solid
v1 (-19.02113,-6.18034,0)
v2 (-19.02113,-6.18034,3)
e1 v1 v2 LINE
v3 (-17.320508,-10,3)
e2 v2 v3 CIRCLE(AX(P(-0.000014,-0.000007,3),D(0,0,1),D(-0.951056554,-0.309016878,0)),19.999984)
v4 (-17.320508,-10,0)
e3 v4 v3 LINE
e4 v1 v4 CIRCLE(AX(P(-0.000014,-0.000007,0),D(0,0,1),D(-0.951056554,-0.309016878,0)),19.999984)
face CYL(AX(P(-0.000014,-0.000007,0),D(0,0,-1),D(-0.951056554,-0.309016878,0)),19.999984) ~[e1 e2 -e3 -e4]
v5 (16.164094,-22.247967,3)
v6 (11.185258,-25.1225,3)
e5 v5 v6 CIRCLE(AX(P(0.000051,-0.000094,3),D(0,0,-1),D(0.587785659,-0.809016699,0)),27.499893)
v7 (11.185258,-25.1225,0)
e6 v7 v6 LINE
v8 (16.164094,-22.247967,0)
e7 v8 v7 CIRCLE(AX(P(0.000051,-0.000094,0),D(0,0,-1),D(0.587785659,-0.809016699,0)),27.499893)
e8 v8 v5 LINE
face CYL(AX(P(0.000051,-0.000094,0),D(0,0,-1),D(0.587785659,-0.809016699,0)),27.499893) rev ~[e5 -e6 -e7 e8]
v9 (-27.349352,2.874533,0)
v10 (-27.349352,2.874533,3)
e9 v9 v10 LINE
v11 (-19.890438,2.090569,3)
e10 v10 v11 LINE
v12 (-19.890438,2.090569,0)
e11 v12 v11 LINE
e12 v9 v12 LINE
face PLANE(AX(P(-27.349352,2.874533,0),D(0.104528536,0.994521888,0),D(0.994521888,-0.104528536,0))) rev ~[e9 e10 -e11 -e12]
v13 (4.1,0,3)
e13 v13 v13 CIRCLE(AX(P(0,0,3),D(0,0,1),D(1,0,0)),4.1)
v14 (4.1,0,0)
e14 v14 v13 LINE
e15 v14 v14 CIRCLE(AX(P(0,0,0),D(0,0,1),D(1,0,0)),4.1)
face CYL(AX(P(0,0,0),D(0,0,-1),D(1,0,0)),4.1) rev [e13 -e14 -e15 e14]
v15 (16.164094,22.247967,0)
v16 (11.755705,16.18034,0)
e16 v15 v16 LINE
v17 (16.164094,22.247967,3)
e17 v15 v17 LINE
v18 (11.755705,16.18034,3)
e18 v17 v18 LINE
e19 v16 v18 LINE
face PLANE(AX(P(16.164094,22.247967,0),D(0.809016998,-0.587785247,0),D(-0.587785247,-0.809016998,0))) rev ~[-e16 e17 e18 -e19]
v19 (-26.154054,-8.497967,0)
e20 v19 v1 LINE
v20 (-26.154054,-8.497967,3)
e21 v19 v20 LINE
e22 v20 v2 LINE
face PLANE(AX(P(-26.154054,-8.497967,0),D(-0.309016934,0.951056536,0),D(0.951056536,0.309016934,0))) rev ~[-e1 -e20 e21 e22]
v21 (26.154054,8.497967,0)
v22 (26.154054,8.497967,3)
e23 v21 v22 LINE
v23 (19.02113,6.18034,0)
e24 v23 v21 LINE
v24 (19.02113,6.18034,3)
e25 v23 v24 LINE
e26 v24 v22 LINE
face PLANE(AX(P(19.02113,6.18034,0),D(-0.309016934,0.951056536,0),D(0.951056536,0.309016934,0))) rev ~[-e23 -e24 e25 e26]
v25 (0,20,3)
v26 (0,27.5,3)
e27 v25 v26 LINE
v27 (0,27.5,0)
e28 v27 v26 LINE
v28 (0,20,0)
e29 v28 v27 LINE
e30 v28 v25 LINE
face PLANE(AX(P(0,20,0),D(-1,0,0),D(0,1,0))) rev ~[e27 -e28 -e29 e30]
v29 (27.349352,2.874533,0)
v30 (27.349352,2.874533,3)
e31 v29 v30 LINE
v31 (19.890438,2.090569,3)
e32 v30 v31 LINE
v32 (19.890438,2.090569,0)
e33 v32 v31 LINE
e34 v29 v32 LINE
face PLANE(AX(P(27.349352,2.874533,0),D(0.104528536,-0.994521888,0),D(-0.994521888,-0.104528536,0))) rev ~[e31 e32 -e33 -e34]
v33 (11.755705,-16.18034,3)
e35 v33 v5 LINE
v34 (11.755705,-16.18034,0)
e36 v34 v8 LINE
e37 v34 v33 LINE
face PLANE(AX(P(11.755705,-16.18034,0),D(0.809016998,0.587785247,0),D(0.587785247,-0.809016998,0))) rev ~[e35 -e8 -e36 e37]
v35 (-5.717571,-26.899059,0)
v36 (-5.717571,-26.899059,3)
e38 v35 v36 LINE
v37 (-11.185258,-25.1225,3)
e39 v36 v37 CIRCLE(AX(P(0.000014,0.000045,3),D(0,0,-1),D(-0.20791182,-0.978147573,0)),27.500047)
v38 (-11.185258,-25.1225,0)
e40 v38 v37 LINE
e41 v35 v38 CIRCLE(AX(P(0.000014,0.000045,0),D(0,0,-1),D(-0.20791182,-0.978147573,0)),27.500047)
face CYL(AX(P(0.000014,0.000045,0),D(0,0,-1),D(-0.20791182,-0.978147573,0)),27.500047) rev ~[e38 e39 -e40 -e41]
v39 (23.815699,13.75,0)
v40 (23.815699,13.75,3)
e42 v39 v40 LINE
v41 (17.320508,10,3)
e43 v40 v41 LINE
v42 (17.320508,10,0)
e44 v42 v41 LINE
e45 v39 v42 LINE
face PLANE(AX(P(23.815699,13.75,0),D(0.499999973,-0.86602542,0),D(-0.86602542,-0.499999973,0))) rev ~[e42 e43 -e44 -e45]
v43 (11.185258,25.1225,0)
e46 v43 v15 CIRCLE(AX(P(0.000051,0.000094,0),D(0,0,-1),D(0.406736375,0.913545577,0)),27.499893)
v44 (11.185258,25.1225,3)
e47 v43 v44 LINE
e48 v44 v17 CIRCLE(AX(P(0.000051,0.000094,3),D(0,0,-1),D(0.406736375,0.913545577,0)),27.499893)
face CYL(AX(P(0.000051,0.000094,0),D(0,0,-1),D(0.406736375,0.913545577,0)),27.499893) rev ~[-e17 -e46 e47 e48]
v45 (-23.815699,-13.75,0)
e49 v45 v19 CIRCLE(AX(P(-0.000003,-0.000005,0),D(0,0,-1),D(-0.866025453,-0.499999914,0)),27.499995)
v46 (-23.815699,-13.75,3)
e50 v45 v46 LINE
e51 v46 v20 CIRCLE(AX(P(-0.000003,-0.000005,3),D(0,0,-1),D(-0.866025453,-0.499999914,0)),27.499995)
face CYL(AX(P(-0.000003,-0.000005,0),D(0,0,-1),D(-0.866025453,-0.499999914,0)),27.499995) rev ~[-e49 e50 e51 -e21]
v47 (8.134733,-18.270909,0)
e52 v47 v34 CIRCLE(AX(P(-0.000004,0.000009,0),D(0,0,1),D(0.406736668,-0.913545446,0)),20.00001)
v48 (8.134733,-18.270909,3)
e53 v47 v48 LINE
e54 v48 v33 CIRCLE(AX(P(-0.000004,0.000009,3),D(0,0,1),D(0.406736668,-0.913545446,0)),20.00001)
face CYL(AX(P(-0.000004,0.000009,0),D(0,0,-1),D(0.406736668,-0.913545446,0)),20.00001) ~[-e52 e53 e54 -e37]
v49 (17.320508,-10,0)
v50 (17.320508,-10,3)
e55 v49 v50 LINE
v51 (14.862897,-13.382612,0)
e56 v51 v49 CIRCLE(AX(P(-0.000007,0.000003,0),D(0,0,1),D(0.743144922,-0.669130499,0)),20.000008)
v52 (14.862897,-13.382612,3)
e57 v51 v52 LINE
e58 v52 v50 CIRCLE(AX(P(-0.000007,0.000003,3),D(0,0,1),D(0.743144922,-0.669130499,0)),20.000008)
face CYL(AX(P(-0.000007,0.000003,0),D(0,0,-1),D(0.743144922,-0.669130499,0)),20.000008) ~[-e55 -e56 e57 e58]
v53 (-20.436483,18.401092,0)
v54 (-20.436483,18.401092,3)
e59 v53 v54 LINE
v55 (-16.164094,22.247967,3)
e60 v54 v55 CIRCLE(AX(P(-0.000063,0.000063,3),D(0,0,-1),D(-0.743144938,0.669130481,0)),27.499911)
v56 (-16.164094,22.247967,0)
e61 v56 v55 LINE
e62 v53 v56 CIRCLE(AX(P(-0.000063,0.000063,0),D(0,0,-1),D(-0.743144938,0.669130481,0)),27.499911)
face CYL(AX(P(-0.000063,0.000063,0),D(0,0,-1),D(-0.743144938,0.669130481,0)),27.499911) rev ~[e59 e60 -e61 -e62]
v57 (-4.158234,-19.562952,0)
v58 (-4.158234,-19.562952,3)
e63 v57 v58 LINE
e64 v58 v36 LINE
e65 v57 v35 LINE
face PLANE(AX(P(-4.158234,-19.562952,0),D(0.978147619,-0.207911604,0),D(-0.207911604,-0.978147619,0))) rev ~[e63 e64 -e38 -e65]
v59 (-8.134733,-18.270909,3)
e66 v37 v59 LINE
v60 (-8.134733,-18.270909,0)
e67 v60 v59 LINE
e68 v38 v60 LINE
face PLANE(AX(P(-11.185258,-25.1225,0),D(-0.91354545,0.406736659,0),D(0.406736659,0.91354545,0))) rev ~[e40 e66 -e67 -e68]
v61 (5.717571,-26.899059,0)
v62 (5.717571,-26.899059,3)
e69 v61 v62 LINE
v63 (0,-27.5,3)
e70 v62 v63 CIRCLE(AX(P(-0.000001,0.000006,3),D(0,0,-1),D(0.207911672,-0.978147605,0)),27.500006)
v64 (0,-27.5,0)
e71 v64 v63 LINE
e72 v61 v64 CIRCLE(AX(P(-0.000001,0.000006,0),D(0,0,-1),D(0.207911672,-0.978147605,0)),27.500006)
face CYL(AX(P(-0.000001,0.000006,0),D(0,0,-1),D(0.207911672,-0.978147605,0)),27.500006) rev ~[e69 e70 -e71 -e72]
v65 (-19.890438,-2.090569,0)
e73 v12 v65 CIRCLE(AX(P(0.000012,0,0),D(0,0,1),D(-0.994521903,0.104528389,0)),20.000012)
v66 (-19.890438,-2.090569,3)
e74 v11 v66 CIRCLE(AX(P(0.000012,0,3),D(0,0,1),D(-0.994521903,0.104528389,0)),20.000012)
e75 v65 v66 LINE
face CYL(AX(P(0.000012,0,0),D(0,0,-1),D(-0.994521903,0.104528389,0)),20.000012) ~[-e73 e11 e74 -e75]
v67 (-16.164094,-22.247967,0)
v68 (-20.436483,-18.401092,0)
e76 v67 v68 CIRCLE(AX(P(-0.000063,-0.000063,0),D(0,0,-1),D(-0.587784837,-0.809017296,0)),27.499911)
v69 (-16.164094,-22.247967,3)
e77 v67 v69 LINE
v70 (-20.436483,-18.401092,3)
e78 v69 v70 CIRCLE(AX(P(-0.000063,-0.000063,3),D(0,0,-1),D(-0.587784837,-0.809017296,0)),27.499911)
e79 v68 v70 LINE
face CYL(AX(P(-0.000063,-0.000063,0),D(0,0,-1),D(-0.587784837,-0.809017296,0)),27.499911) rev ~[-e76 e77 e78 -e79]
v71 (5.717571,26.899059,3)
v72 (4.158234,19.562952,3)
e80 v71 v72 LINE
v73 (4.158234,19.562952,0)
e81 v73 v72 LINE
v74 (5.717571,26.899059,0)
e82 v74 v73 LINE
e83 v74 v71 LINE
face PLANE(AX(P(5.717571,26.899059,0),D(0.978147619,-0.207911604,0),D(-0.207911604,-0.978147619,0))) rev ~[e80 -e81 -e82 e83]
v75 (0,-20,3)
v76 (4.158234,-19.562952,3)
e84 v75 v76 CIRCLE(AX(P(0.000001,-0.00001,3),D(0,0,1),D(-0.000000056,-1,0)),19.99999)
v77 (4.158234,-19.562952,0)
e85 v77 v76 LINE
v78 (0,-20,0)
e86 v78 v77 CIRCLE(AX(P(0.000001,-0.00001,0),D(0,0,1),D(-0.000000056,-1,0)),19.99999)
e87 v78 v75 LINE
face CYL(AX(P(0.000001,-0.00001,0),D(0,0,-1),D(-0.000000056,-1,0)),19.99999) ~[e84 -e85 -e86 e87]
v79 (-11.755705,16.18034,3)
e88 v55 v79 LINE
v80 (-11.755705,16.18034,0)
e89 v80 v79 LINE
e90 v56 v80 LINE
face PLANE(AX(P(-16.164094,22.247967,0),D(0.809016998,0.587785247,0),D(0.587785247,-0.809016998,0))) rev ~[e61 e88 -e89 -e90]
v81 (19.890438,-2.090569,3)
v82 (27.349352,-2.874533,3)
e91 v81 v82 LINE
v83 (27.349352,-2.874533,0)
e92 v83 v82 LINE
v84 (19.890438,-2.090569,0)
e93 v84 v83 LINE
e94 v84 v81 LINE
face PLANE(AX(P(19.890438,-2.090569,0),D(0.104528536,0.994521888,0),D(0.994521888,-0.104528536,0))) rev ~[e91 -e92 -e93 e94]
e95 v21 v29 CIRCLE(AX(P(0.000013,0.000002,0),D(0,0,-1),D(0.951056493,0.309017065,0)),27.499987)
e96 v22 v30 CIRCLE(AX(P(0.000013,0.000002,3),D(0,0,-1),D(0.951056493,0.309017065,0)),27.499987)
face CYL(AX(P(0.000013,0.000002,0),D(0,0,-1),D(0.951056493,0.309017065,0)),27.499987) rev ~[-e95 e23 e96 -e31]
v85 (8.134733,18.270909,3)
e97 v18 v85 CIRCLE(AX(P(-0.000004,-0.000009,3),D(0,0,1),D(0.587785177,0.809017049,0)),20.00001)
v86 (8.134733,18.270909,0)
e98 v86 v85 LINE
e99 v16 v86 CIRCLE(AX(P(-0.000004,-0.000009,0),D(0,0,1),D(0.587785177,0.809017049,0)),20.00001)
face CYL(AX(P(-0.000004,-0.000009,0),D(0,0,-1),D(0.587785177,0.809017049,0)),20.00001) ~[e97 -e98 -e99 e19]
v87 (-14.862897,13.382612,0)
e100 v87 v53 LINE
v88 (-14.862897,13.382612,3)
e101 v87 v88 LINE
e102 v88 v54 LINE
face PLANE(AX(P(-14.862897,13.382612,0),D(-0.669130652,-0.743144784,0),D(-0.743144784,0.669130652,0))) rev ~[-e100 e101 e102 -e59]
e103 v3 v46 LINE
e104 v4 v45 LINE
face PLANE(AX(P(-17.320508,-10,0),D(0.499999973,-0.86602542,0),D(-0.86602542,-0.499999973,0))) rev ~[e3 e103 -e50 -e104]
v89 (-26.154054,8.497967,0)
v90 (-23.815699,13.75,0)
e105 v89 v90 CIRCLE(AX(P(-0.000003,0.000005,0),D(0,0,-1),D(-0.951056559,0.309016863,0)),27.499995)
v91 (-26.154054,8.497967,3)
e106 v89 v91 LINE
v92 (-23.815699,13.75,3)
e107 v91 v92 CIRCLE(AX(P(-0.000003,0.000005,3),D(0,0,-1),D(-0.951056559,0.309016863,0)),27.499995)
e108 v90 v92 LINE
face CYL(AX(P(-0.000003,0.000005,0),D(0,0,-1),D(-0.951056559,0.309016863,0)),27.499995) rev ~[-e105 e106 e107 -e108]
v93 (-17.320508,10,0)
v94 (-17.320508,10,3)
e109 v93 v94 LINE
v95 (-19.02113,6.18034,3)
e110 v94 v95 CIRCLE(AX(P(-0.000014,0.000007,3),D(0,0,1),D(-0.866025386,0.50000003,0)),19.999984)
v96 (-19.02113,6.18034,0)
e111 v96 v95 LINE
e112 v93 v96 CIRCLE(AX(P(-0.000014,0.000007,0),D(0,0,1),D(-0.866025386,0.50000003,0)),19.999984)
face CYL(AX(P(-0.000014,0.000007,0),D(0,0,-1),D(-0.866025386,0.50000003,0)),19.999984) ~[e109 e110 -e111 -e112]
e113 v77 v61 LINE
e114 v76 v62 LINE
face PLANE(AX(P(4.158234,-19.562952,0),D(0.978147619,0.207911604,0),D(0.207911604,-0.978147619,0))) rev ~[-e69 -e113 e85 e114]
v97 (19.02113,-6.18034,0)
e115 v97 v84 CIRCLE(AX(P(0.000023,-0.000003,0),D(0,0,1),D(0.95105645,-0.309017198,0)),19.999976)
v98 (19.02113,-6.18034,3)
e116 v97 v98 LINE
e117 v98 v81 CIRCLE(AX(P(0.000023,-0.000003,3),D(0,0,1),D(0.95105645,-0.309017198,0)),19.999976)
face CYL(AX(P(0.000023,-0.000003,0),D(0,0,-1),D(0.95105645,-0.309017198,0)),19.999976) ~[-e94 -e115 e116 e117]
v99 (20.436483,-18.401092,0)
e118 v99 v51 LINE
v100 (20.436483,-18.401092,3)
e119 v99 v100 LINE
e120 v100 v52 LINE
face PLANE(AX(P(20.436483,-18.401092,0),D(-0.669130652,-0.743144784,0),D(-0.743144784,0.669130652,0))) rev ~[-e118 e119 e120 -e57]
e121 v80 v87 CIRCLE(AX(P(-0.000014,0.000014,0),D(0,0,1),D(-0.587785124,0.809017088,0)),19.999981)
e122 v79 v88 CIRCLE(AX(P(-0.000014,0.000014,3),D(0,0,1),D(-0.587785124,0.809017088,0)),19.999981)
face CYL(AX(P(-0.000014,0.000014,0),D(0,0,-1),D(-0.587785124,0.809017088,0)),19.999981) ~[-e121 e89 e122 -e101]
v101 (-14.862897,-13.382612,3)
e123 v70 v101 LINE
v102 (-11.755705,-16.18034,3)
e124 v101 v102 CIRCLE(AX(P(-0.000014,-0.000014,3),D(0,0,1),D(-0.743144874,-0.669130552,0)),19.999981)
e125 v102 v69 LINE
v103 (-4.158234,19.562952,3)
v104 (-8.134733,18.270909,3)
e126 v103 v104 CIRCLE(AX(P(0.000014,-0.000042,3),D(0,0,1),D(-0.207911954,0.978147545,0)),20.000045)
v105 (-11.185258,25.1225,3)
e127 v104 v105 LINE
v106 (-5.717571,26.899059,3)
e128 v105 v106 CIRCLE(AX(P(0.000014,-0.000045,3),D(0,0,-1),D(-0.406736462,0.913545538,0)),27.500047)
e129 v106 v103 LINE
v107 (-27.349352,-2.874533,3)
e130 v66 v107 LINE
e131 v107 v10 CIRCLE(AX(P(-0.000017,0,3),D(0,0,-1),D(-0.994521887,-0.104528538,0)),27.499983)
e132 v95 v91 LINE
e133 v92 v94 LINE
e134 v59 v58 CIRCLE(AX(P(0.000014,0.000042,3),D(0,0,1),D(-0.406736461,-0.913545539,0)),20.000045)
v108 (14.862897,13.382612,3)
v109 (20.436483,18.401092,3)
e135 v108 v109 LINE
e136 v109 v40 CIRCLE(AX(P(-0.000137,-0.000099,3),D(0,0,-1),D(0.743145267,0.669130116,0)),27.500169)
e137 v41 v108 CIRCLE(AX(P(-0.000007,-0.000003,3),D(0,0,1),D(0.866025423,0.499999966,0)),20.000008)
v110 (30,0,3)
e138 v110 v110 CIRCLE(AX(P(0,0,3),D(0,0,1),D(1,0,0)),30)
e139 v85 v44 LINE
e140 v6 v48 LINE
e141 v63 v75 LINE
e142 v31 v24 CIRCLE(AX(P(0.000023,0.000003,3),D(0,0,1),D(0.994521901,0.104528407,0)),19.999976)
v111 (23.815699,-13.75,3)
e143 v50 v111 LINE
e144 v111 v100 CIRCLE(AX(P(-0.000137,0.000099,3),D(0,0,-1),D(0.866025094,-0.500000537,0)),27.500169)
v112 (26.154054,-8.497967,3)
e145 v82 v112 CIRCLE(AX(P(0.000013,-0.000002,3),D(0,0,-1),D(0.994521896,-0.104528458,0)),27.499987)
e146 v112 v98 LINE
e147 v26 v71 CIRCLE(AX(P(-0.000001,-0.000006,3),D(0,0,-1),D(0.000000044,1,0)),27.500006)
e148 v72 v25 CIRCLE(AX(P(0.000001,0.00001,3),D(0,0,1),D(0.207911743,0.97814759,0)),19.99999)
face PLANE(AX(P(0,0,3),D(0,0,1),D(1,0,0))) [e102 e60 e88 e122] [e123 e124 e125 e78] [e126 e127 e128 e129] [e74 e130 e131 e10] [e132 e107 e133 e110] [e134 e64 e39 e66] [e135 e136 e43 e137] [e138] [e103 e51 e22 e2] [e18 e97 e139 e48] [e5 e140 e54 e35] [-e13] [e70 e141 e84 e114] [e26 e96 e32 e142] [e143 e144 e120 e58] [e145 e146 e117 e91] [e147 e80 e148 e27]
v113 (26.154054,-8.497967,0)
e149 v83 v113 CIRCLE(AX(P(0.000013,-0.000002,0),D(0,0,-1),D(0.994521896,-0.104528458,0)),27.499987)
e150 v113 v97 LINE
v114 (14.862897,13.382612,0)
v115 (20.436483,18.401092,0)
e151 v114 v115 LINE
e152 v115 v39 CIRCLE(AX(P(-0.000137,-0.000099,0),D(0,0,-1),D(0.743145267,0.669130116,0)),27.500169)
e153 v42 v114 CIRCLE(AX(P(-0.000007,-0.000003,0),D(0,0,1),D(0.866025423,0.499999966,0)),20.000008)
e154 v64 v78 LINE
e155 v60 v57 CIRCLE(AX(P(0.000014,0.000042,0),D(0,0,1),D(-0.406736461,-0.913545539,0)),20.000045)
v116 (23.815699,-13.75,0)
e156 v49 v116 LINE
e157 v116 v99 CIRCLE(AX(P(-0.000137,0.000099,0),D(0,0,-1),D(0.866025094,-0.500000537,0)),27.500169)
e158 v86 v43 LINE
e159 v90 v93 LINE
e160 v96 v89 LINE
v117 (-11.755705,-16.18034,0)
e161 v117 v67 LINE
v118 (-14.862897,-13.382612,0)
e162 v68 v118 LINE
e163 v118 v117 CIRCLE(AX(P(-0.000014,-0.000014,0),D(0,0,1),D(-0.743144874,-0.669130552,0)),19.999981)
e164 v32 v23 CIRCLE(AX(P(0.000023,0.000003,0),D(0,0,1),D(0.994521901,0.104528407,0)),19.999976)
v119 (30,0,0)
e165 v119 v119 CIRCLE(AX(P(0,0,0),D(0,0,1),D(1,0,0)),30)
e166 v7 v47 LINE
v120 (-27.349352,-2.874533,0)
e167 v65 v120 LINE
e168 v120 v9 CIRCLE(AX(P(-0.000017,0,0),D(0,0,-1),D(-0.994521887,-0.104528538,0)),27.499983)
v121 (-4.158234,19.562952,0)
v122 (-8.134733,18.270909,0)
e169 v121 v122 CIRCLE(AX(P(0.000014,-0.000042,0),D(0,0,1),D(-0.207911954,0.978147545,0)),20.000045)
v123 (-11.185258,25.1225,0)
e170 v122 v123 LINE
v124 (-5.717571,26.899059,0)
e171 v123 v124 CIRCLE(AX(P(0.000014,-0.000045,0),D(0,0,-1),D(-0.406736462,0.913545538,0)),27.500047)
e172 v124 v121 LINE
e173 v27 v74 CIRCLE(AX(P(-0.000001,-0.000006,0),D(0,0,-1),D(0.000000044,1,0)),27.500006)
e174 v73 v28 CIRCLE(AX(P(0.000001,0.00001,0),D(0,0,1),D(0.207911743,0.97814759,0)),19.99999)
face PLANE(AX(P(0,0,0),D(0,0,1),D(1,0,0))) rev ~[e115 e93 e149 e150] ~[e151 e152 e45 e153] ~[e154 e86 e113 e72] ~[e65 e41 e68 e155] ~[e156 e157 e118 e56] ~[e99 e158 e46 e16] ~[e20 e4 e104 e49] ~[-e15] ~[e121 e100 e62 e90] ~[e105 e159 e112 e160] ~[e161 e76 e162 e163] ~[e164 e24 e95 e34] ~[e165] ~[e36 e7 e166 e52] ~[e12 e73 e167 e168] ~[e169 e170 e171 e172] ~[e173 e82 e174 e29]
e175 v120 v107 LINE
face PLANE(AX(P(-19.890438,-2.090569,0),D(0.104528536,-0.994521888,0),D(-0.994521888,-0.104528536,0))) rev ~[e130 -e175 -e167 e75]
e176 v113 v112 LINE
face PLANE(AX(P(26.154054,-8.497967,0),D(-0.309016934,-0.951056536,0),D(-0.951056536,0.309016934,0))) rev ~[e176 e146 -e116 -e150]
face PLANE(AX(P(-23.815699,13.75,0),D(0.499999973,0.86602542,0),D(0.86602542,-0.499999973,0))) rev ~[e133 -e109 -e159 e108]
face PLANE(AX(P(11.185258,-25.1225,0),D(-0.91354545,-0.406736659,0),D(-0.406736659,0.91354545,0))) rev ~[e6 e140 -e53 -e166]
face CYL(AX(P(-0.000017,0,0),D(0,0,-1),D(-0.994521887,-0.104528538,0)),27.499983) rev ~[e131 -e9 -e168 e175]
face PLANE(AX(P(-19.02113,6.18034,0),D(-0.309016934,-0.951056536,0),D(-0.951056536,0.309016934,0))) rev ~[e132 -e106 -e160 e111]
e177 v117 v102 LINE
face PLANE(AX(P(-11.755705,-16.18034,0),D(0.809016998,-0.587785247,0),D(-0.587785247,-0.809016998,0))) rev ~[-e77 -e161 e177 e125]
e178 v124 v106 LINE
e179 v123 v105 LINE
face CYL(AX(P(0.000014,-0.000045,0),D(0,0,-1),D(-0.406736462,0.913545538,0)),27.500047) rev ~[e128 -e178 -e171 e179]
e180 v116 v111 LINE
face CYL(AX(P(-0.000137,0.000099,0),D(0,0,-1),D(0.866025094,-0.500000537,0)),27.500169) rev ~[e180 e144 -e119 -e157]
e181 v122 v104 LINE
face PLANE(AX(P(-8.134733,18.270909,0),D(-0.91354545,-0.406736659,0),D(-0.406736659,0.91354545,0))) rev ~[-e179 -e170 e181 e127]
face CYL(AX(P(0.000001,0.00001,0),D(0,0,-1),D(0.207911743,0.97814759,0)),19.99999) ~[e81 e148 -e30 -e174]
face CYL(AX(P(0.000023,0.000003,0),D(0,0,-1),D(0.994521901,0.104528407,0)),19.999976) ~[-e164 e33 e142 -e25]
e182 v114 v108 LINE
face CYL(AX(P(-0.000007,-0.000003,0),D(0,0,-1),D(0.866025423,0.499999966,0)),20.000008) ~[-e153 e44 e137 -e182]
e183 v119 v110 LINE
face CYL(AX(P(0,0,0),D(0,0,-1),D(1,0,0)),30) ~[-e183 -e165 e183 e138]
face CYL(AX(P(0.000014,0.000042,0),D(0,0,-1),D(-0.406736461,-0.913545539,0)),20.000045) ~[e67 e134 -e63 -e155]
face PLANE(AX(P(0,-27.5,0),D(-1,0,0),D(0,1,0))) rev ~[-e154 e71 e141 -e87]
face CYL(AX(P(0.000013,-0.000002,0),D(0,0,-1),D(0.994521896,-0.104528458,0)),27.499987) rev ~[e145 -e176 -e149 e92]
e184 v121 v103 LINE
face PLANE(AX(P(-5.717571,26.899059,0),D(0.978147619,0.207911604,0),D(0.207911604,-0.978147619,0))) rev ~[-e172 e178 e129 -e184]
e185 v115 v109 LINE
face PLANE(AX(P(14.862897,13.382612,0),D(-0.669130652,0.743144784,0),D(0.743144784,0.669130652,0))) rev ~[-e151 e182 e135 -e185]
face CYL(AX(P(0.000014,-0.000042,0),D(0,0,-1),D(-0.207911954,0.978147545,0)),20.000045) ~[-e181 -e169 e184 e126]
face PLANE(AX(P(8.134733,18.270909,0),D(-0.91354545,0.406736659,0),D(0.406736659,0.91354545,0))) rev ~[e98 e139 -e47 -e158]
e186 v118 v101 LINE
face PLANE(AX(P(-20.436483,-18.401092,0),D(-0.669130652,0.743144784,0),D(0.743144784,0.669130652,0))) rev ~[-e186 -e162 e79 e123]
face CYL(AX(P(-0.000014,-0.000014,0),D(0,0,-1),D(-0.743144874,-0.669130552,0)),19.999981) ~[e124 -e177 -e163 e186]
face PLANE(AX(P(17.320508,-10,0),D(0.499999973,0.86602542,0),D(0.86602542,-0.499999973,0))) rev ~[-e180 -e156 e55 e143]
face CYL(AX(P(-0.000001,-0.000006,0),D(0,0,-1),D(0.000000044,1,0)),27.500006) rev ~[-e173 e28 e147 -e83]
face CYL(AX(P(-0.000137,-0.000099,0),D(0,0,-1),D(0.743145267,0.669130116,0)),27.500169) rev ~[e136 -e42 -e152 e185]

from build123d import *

# Parameters (mm, degrees)
F0_R     = 30
F0_R_2   = 4.1
F1_DEPTH = 3


with BuildPart() as f1:
    # F0 (on Top) → F1 (new body)
    with BuildSketch(Plane.XY):
        Circle(F0_R)
        with BuildLine():
            ThreePointArc((-16.164094, -22.247967), (-18.401092, -20.436483), (-20.436483, -18.401092))
            Line((-20.436483, -18.401092), (-14.862897, -13.382612))
            ThreePointArc((-14.862897, -13.382612), (-13.382612, -14.862897), (-11.755705, -16.18034))
            Line((-11.755705, -16.18034), (-16.164094, -22.247967))
        make_face(mode=Mode.SUBTRACT)
        with BuildLine():
            ThreePointArc((-5.717571, -26.899059), (-8.497967, -26.154054), (-11.185258, -25.1225))
            Line((-11.185258, -25.1225), (-8.134733, -18.270909))
            ThreePointArc((-8.134733, -18.270909), (-6.18034, -19.02113), (-4.158234, -19.562952))
            Line((-4.158234, -19.562952), (-5.717571, -26.899059))
        make_face(mode=Mode.SUBTRACT)
        with BuildLine():
            ThreePointArc((-23.815699, -13.75), (-25.1225, -11.185258), (-26.154054, -8.497967))
            Line((-26.154054, -8.497967), (-19.02113, -6.18034))
            ThreePointArc((-19.02113, -6.18034), (-18.270909, -8.134733), (-17.320508, -10))
            Line((-17.320508, -10), (-23.815699, -13.75))
        make_face(mode=Mode.SUBTRACT)
        with BuildLine():
            ThreePointArc((5.717571, -26.899059), (2.874533, -27.349352), (0, -27.5))
            Line((0, -27.5), (0, -20))
            ThreePointArc((0, -20), (2.090569, -19.890438), (4.158234, -19.562952))
            Line((4.158234, -19.562952), (5.717571, -26.899059))
        make_face(mode=Mode.SUBTRACT)
        with BuildLine():
            ThreePointArc((16.164094, -22.247967), (13.75, -23.815699), (11.185258, -25.1225))
            Line((11.185258, -25.1225), (8.134733, -18.270909))
            ThreePointArc((8.134733, -18.270909), (10, -17.320508), (11.755705, -16.18034))
            Line((11.755705, -16.18034), (16.164094, -22.247967))
        make_face(mode=Mode.SUBTRACT)
        with BuildLine():
            ThreePointArc((23.815699, -13.75), (22.247967, -16.164094), (20.436483, -18.401092))
            Line((20.436483, -18.401092), (14.862897, -13.382612))
            ThreePointArc((14.862897, -13.382612), (16.18034, -11.755705), (17.320508, -10))
            Line((17.320508, -10), (23.815699, -13.75))
        make_face(mode=Mode.SUBTRACT)
        with BuildLine():
            ThreePointArc((27.349352, -2.874533), (26.899059, -5.717571), (26.154054, -8.497967))
            Line((26.154054, -8.497967), (19.02113, -6.18034))
            ThreePointArc((19.02113, -6.18034), (19.562952, -4.158234), (19.890438, -2.090569))
            Line((19.890438, -2.090569), (27.349352, -2.874533))
        make_face(mode=Mode.SUBTRACT)
        with BuildLine():
            ThreePointArc((-27.349352, -2.874533), (-27.5, 0), (-27.349352, 2.874533))
            Line((-27.349352, 2.874533), (-19.890438, 2.090569))
            ThreePointArc((-19.890438, 2.090569), (-20, 0), (-19.890438, -2.090569))
            Line((-19.890438, -2.090569), (-27.349352, -2.874533))
        make_face(mode=Mode.SUBTRACT)
        with BuildLine():
            ThreePointArc((-26.154054, 8.497967), (-25.1225, 11.185258), (-23.815699, 13.75))
            Line((-23.815699, 13.75), (-17.320508, 10))
            ThreePointArc((-17.320508, 10), (-18.270909, 8.134733), (-19.02113, 6.18034))
            Line((-19.02113, 6.18034), (-26.154054, 8.497967))
        make_face(mode=Mode.SUBTRACT)
        with BuildLine():
            ThreePointArc((-20.436483, 18.401092), (-18.401092, 20.436483), (-16.164094, 22.247967))
            Line((-16.164094, 22.247967), (-11.755705, 16.18034))
            ThreePointArc((-11.755705, 16.18034), (-13.382612, 14.862897), (-14.862897, 13.382612))
            Line((-14.862897, 13.382612), (-20.436483, 18.401092))
        make_face(mode=Mode.SUBTRACT)
        with BuildLine():
            ThreePointArc((-11.185258, 25.1225), (-8.497967, 26.154054), (-5.717571, 26.899059))
            Line((-5.717571, 26.899059), (-4.158234, 19.562952))
            ThreePointArc((-4.158234, 19.562952), (-6.18034, 19.02113), (-8.134733, 18.270909))
            Line((-8.134733, 18.270909), (-11.185258, 25.1225))
        make_face(mode=Mode.SUBTRACT)
        Circle(F0_R_2, mode=Mode.SUBTRACT)
        with BuildLine():
            ThreePointArc((26.154054, 8.497967), (26.899059, 5.717571), (27.349352, 2.874533))
            Line((27.349352, 2.874533), (19.890438, 2.090569))
            ThreePointArc((19.890438, 2.090569), (19.562952, 4.158234), (19.02113, 6.18034))
            Line((19.02113, 6.18034), (26.154054, 8.497967))
        make_face(mode=Mode.SUBTRACT)
        with BuildLine():
            ThreePointArc((20.436483, 18.401092), (22.247967, 16.164094), (23.815699, 13.75))
            Line((23.815699, 13.75), (17.320508, 10))
            ThreePointArc((17.320508, 10), (16.18034, 11.755705), (14.862897, 13.382612))
            Line((14.862897, 13.382612), (20.436483, 18.401092))
        make_face(mode=Mode.SUBTRACT)
        with BuildLine():
            ThreePointArc((11.185258, 25.1225), (13.75, 23.815699), (16.164094, 22.247967))
            Line((16.164094, 22.247967), (11.755705, 16.18034))
            ThreePointArc((11.755705, 16.18034), (10, 17.320508), (8.134733, 18.270909))
            Line((8.134733, 18.270909), (11.185258, 25.1225))
        make_face(mode=Mode.SUBTRACT)
        with BuildLine():
            Line((0, 20), (0, 27.5))
            ThreePointArc((0, 27.5), (2.874533, 27.349352), (5.717571, 26.899059))
            Line((5.717571, 26.899059), (4.158234, 19.562952))
            ThreePointArc((4.158234, 19.562952), (2.090569, 19.890438), (0, 20))
        make_face(mode=Mode.SUBTRACT)
    extrude(amount=F1_DEPTH)


solid = f1.part
